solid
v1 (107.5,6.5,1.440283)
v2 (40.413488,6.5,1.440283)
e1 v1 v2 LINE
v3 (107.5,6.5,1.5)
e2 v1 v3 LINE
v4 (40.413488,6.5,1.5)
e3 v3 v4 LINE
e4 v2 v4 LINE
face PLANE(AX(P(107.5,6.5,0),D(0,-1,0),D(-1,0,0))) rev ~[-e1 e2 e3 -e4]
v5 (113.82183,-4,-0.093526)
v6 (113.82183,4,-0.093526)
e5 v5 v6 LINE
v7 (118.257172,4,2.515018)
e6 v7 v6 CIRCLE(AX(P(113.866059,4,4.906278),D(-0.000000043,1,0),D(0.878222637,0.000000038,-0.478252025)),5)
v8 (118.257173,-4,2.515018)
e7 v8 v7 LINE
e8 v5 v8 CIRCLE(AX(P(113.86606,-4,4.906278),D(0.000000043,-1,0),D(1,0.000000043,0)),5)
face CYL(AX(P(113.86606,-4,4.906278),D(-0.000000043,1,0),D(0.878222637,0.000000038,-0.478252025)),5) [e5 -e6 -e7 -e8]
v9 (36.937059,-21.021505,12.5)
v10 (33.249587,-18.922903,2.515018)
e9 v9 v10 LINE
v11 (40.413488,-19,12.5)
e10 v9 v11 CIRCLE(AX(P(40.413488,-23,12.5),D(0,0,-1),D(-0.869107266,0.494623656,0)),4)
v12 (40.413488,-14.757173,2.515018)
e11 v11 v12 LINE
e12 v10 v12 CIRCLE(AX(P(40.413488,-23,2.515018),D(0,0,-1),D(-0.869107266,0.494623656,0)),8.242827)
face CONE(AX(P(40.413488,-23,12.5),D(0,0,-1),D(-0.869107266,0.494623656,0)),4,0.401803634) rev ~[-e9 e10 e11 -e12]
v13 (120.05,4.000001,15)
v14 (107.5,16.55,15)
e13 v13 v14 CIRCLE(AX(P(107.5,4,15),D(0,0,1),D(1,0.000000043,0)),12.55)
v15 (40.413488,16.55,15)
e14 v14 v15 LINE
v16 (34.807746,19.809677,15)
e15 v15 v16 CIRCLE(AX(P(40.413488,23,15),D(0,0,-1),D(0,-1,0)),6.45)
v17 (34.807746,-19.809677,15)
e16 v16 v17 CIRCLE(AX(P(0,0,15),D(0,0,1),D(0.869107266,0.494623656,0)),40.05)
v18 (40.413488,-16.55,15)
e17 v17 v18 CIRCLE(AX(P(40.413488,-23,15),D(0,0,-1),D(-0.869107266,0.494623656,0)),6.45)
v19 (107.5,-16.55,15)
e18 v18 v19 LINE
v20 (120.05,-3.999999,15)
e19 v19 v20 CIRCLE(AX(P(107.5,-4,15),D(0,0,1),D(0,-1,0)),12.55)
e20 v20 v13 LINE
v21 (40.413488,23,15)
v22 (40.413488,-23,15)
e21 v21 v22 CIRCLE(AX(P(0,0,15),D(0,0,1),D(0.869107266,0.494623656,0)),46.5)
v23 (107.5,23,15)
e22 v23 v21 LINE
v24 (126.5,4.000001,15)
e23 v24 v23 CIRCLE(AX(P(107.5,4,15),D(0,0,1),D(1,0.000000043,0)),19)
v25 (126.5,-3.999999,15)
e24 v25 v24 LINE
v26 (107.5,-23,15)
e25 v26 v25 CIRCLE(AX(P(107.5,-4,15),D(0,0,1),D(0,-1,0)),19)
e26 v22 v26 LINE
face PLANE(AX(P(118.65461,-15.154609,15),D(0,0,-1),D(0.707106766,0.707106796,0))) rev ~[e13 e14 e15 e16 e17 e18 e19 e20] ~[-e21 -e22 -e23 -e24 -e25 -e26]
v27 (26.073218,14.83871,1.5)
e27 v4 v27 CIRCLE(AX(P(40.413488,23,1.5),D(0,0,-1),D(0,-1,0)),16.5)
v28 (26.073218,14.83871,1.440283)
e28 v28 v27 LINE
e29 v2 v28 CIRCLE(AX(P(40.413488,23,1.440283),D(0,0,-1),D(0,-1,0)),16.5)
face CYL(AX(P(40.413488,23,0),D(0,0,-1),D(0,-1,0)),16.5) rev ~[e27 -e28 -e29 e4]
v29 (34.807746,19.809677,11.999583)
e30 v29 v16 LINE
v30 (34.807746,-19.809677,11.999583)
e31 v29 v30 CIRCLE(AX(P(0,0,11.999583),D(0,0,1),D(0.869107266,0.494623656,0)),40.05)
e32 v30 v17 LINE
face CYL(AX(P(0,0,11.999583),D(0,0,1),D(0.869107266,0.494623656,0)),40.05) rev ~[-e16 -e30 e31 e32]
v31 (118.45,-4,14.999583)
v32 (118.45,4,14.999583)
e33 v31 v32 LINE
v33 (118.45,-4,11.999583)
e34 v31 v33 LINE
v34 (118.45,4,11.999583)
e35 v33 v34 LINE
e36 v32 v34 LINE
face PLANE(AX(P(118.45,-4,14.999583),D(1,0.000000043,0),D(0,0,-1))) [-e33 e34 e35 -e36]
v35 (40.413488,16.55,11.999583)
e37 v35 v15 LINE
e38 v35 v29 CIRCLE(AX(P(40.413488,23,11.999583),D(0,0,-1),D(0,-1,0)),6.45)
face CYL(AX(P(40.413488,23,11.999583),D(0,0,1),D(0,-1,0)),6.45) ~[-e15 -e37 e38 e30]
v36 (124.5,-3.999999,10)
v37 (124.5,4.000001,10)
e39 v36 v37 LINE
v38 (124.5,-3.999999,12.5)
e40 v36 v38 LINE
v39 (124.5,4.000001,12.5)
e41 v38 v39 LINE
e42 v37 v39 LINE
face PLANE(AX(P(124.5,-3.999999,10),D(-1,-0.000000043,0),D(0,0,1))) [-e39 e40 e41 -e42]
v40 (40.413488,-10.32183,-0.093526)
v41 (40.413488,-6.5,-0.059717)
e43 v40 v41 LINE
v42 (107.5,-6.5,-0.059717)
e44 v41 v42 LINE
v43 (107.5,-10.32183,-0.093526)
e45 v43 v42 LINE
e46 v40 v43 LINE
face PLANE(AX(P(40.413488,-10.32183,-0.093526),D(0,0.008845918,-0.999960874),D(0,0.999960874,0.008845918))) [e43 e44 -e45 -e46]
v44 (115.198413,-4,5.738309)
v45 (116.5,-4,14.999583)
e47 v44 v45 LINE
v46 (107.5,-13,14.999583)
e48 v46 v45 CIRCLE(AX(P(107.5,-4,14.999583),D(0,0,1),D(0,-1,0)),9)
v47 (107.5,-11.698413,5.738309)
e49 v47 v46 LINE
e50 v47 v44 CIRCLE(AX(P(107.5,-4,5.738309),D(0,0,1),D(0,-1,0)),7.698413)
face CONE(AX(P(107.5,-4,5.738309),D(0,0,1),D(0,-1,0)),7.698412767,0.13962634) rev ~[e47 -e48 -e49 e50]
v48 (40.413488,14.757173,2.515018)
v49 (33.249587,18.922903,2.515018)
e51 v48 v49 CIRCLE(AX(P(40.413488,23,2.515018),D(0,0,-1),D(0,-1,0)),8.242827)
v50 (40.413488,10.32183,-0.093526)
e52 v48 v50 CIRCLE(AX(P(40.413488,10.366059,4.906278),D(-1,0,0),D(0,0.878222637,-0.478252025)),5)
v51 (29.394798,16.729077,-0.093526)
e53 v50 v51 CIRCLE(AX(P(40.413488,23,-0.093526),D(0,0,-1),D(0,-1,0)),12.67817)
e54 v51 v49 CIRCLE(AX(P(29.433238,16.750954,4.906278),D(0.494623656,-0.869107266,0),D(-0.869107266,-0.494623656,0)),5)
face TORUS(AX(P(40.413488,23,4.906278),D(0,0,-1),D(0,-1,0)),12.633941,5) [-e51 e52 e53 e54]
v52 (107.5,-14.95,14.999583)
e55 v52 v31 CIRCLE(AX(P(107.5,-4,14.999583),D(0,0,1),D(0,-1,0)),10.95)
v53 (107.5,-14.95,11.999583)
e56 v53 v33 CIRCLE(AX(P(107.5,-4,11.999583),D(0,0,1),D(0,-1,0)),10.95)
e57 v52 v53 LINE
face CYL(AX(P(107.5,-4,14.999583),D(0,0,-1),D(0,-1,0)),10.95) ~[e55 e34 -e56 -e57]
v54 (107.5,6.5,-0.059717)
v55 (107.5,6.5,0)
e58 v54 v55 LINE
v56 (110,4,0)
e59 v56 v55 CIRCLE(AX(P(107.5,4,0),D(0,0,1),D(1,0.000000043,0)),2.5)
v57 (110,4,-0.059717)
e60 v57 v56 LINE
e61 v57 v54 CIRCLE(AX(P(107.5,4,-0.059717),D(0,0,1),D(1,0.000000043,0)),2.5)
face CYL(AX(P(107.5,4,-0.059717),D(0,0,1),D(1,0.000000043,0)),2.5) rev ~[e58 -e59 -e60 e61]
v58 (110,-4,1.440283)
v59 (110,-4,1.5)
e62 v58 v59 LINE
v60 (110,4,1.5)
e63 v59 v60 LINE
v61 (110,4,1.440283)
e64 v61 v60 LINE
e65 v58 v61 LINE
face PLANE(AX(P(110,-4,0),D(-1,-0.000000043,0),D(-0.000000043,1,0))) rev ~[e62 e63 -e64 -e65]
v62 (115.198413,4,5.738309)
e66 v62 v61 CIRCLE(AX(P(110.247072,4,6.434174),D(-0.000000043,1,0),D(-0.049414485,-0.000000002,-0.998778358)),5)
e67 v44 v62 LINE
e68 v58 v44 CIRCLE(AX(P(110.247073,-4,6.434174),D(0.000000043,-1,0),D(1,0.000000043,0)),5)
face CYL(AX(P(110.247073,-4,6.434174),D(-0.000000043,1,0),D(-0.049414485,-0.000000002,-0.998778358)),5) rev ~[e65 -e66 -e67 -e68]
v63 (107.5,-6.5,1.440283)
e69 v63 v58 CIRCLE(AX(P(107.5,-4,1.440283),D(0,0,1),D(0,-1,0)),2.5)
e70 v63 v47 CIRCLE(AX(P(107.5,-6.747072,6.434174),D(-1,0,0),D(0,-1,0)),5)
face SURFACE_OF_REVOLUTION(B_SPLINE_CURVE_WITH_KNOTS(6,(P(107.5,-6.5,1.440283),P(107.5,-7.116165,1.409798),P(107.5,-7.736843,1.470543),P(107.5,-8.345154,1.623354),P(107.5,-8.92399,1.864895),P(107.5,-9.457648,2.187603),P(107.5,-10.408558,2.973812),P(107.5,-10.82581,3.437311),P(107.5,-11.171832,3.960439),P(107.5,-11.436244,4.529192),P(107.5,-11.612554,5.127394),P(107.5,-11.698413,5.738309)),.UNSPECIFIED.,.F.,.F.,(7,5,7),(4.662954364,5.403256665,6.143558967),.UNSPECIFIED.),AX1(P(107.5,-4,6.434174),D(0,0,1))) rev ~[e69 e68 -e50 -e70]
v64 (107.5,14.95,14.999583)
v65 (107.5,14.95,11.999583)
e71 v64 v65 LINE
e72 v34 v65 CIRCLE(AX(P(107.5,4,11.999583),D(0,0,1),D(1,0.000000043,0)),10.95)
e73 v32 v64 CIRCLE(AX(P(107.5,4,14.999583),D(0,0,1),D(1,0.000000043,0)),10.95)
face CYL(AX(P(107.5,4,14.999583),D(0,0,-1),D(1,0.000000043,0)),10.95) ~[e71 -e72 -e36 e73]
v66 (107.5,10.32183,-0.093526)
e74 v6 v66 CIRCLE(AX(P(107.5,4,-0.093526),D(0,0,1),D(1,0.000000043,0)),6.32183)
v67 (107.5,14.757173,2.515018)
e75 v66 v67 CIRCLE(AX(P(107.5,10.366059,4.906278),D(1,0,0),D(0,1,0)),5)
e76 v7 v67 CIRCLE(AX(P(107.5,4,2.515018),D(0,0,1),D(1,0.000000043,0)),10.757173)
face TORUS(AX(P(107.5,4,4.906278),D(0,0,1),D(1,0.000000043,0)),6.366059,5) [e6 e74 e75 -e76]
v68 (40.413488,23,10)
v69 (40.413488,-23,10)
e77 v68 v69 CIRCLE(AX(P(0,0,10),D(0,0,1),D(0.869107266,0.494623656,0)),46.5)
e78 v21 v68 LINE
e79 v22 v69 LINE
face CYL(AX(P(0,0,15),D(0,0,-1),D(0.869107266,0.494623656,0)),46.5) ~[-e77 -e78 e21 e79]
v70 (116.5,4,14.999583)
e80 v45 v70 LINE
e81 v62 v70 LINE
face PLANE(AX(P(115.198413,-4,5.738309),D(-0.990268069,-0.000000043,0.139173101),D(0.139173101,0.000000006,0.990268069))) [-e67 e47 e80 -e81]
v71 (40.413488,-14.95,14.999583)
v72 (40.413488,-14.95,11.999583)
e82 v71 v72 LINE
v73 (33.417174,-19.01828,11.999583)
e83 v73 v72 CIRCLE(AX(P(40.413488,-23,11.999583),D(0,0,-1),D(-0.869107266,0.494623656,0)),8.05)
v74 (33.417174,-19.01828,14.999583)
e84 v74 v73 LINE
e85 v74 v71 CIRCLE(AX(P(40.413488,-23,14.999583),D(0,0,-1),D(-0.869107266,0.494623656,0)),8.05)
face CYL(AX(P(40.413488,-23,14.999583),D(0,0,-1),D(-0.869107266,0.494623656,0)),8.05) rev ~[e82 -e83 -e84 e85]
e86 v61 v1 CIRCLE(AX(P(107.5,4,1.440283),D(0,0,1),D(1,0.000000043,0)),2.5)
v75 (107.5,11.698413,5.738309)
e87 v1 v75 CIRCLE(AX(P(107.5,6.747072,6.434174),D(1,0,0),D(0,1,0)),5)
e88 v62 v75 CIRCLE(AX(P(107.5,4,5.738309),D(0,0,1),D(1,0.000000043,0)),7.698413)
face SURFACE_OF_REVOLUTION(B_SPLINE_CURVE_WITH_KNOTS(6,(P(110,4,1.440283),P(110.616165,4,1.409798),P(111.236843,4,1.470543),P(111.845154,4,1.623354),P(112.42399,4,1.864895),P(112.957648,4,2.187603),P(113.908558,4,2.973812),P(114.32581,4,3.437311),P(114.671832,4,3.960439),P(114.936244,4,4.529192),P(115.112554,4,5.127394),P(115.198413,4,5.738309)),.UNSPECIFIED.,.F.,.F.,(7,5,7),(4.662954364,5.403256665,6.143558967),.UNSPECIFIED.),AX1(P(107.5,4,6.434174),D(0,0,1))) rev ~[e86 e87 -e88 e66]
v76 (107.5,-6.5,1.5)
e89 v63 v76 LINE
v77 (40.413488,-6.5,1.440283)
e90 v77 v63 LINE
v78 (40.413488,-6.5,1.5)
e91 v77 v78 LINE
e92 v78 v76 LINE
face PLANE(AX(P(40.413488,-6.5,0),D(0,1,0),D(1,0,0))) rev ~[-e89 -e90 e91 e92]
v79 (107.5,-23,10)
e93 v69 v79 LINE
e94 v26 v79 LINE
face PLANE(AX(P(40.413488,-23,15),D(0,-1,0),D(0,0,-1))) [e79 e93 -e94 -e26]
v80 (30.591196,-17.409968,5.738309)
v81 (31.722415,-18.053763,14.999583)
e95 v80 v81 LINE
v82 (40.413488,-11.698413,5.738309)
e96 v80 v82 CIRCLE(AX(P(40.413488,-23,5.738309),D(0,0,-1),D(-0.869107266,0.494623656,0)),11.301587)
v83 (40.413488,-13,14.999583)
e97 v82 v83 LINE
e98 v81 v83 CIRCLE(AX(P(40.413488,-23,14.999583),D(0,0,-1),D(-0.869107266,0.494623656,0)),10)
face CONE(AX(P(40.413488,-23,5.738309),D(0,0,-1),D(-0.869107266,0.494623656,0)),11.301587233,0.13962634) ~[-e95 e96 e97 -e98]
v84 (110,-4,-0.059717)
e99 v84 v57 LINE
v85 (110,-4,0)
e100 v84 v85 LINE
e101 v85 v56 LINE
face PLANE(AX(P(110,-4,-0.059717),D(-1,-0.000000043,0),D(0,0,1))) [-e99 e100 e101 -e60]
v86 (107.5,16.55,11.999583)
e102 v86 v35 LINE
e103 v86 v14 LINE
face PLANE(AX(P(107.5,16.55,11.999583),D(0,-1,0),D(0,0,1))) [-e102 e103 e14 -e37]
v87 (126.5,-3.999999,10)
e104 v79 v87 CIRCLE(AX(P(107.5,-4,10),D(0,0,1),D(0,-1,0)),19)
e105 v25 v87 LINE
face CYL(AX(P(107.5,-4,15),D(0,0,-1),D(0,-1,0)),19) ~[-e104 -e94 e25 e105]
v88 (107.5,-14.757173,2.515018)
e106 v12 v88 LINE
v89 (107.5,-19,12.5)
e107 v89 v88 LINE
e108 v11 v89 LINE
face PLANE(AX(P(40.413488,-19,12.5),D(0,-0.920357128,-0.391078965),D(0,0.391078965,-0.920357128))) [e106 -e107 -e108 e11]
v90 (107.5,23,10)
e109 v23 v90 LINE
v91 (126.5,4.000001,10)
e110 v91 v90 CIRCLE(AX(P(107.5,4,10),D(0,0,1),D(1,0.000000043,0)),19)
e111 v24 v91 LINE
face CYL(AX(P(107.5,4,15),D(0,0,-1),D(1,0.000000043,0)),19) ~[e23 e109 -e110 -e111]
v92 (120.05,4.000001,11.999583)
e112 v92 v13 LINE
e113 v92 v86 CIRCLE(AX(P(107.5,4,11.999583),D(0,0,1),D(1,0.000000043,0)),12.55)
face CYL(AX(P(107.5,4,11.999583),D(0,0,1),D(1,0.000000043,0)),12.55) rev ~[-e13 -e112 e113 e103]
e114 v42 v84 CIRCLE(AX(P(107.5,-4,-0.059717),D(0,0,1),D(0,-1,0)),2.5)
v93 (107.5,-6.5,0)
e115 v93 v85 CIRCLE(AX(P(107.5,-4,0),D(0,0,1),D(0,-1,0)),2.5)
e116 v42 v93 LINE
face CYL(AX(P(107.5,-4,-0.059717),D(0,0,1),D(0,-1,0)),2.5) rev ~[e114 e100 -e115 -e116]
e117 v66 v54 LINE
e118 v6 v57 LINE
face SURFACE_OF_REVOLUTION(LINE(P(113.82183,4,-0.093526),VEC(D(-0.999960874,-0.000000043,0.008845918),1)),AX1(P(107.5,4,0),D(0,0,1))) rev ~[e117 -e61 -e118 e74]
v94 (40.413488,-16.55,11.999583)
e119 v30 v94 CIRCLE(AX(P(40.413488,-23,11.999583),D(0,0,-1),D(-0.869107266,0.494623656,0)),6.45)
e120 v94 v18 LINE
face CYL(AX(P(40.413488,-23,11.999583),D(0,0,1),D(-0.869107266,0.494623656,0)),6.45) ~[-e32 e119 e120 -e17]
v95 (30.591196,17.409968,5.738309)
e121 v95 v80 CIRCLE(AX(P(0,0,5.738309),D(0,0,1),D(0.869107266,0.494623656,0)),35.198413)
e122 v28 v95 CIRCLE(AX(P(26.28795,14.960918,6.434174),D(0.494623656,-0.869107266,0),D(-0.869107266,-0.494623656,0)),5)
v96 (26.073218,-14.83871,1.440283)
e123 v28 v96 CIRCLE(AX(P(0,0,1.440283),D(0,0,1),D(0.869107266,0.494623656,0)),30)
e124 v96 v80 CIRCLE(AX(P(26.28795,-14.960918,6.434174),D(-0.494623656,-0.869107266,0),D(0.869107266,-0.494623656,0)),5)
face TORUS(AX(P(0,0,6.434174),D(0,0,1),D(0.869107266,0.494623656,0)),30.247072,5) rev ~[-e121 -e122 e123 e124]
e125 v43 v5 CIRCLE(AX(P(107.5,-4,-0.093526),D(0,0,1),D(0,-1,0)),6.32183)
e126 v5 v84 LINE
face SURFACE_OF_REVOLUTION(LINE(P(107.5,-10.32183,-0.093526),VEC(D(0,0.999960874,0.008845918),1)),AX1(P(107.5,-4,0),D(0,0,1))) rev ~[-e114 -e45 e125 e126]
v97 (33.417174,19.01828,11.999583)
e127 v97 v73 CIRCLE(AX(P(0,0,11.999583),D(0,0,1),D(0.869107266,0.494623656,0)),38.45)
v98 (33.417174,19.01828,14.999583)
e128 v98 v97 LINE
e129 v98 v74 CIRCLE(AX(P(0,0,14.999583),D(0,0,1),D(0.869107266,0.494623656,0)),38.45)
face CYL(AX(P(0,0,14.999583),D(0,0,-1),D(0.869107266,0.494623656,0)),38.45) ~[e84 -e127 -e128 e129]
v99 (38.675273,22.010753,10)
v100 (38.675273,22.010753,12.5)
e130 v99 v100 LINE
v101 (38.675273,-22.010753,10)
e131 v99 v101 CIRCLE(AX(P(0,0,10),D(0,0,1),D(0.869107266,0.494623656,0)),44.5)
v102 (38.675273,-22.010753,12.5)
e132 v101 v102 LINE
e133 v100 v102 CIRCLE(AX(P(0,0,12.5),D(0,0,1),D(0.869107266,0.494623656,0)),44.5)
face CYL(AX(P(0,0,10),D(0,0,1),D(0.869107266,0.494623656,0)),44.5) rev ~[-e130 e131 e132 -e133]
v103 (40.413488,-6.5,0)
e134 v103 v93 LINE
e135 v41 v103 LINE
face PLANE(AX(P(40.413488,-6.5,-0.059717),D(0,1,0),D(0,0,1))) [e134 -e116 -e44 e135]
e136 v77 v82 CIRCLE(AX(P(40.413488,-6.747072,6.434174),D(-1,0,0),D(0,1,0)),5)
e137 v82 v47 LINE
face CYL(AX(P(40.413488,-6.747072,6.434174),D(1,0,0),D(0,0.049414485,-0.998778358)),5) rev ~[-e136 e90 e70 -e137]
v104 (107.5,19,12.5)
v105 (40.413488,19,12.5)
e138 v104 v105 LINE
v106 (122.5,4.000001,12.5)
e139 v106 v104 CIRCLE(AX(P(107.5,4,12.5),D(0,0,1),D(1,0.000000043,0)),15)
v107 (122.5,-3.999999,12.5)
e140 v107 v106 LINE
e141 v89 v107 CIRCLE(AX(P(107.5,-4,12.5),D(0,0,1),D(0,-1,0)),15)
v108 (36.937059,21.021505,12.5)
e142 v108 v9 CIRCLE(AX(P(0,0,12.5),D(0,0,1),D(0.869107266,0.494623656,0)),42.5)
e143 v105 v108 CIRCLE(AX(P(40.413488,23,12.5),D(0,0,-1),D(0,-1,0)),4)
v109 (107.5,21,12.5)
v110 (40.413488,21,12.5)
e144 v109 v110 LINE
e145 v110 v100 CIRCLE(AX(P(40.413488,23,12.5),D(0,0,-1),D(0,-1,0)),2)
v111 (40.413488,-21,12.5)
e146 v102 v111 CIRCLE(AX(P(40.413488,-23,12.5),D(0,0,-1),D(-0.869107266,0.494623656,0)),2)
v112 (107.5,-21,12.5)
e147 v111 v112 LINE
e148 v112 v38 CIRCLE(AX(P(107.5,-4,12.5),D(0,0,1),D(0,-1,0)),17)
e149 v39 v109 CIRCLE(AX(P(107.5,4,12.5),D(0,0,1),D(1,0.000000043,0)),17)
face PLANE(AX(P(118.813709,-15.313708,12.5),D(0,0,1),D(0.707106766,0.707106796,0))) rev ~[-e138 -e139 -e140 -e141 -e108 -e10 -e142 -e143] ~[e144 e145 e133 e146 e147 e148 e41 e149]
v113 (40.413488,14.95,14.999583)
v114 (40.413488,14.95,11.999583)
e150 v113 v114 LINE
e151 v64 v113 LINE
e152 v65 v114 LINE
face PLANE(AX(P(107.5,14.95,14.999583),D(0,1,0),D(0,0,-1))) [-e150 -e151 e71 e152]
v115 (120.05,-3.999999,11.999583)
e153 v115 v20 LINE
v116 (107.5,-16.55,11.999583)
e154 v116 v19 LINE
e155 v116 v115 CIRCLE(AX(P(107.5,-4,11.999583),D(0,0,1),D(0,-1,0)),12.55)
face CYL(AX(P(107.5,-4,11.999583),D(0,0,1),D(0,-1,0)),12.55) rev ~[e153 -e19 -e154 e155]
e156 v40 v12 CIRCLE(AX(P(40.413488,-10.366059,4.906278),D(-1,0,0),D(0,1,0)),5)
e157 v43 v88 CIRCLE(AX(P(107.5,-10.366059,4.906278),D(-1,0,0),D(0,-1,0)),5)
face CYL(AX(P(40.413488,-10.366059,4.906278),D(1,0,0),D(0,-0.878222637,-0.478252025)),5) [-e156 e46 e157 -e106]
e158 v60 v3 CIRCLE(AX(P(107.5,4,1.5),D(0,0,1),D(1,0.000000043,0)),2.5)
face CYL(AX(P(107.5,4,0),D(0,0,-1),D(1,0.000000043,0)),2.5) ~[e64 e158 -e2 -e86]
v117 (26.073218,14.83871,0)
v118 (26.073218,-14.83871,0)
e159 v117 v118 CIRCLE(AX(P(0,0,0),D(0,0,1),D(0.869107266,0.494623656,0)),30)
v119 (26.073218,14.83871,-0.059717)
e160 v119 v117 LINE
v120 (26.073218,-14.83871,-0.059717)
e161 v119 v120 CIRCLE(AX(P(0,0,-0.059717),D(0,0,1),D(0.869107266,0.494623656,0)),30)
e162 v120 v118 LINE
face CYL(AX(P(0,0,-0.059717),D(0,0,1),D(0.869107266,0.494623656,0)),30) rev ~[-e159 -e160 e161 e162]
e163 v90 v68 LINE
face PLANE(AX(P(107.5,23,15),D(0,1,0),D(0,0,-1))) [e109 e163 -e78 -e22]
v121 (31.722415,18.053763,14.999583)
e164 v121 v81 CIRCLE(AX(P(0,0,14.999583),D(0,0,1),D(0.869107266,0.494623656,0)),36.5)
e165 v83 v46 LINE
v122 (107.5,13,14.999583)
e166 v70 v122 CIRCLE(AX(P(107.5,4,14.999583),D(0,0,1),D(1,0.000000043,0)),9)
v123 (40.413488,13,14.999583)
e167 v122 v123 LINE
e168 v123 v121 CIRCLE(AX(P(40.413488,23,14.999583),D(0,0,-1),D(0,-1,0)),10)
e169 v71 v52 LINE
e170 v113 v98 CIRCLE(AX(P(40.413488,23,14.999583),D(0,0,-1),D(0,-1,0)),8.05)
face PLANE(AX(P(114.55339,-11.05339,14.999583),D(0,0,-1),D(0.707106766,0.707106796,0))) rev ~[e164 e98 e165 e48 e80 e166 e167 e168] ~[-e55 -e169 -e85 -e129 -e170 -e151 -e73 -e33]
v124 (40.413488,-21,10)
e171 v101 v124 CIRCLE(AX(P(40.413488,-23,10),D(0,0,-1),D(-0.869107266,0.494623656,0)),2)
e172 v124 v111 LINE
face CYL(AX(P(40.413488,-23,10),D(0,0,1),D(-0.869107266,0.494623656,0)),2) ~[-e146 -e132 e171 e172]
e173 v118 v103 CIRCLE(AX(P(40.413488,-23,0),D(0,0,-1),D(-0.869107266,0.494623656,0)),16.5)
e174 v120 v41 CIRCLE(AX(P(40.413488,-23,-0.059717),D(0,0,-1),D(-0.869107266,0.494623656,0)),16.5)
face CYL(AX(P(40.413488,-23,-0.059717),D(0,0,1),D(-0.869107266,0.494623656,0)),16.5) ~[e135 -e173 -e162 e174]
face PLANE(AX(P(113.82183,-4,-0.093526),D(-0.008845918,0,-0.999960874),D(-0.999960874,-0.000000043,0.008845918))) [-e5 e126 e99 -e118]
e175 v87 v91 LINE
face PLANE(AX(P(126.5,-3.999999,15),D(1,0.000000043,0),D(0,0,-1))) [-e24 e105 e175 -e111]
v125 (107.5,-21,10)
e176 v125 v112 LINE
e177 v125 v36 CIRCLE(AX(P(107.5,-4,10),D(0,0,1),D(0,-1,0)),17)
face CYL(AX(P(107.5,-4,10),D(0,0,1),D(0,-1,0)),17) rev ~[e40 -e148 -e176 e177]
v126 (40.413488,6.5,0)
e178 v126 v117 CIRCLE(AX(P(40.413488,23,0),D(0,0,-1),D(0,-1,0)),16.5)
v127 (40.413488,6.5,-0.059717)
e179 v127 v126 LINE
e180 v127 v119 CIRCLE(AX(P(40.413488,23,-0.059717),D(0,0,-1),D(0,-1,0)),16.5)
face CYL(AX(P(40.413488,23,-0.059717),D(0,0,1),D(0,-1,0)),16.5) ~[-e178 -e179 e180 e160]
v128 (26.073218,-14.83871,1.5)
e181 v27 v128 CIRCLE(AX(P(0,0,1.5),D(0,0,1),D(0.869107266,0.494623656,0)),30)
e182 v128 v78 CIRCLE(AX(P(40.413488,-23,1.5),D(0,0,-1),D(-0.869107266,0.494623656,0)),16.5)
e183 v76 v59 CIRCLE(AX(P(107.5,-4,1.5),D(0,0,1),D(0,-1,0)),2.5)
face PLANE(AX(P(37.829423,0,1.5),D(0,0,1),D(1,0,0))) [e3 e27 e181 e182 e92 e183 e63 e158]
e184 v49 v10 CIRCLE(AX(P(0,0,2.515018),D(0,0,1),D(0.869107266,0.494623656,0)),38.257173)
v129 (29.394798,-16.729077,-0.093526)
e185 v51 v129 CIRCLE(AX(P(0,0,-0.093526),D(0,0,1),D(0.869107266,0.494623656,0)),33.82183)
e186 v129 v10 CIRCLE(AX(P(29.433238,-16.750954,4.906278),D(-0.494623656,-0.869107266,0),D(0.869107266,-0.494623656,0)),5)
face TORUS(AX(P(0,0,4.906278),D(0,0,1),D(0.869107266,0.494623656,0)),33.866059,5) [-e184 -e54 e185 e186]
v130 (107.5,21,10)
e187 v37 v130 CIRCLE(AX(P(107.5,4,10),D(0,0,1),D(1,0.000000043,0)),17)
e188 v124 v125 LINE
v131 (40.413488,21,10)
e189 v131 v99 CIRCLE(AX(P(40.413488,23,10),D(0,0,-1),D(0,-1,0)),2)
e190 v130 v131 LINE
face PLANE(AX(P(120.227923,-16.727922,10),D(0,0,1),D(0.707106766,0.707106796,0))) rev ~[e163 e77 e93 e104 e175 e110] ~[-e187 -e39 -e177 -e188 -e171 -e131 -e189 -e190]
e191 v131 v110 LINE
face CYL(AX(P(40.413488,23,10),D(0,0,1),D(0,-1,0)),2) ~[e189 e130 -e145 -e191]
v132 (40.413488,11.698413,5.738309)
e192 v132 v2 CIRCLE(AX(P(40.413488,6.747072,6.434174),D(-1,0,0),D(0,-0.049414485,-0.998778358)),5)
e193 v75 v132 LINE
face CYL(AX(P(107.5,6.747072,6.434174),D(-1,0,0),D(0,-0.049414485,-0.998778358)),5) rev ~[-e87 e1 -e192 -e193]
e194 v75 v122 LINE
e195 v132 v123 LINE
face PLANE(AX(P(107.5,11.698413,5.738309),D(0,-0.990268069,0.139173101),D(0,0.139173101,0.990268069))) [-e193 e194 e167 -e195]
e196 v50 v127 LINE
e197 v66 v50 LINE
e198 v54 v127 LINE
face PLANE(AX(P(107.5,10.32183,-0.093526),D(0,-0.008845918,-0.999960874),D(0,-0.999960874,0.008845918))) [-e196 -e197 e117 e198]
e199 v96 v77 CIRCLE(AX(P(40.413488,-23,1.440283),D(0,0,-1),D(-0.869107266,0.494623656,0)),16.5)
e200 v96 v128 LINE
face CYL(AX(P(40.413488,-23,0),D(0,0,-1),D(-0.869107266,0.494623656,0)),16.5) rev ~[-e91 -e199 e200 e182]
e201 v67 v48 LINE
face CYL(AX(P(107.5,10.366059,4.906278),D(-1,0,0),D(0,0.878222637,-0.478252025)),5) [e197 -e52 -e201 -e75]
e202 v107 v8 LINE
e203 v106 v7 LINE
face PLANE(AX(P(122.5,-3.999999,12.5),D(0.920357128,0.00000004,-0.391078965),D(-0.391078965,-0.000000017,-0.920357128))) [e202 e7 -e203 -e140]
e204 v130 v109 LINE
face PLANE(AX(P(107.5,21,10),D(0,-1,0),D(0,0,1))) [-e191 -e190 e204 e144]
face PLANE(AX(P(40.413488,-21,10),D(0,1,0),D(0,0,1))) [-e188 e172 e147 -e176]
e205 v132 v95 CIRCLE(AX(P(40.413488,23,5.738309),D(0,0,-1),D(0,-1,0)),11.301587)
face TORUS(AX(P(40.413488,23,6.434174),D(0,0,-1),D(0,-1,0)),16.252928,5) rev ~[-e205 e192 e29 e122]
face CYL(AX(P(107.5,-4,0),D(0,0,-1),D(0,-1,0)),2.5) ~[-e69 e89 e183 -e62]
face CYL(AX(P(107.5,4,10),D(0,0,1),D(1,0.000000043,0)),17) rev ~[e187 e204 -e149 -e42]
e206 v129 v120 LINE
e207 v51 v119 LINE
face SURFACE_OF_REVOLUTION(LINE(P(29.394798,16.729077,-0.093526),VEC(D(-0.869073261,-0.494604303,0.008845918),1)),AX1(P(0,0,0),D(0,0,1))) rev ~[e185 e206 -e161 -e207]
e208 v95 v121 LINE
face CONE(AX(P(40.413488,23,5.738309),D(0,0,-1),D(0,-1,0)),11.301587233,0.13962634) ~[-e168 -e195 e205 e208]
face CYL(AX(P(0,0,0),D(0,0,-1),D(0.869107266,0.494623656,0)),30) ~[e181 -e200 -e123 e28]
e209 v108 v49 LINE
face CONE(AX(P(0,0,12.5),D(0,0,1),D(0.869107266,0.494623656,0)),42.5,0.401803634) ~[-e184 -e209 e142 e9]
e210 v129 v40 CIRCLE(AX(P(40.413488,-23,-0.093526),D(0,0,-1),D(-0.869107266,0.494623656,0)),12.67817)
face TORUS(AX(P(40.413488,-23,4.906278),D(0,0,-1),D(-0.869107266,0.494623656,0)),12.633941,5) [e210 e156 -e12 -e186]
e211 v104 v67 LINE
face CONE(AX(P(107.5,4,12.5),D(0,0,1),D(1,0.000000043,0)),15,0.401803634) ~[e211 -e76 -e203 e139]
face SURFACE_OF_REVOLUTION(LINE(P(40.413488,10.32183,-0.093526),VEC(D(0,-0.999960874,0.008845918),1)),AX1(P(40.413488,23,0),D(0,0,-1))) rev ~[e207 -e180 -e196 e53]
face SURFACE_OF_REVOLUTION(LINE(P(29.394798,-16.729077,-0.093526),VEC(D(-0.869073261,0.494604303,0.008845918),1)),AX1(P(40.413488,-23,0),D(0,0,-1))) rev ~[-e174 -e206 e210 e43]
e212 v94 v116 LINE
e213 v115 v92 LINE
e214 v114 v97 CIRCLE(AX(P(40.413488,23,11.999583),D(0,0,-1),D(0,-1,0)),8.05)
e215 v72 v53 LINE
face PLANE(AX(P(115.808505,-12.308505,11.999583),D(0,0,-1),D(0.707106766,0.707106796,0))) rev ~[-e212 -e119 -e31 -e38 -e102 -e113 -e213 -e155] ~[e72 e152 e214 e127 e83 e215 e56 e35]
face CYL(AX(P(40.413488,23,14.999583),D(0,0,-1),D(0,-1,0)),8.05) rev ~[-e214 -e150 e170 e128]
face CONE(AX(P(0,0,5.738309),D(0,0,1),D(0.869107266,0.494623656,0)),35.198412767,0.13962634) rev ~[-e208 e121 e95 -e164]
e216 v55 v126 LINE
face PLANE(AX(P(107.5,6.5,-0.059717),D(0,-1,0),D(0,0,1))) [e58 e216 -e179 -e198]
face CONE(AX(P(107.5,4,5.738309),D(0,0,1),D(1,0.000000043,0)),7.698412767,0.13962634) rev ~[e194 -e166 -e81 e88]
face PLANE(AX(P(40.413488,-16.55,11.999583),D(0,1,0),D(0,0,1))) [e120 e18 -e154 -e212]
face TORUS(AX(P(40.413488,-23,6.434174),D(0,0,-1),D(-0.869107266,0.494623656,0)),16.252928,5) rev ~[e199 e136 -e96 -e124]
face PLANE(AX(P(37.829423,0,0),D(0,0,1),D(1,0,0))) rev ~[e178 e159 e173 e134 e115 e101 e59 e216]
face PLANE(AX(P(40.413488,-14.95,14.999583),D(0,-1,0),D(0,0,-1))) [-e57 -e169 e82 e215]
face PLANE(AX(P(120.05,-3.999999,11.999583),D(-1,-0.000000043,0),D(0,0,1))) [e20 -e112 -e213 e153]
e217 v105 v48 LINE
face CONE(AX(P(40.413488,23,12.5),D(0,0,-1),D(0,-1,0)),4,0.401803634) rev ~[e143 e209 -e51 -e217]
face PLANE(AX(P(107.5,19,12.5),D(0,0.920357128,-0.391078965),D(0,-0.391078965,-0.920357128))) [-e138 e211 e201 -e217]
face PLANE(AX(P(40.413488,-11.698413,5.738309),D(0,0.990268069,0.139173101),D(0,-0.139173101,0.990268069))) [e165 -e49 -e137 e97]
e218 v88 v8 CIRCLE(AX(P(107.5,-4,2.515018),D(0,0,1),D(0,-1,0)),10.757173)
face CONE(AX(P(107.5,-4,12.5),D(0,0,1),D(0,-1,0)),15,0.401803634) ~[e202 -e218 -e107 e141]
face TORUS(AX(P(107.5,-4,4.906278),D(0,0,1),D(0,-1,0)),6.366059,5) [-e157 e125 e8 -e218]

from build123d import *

# Parameters (mm, degrees)
F3_DEPTH = 1.5


with BuildPart() as f2:
    # F2: sweep along a path in F1
    with BuildLine(Plane.XY) as f2_path:
        ThreePointArc((107.5000001721, -6.5), (109.267767163, -5.7677669149), (110.0000001721, -3.9999998925))
        Line((110.0000001721, -3.9999998925), (109.9999998279, 4.0000001075))
        ThreePointArc((109.9999998279, 4.0000001075), (109.2677667429, 5.767766991), (107.4999998279, 6.5))
        Line((107.4999998279, 6.5), (40.4134878475, 6.5))
        ThreePointArc((40.4134878475, 6.5), (32.1192516055, 8.7362121033), (26.0732179661, 14.8387096774))
        ThreePointArc((26.0732179661, 14.8387096774), (-30, 0), (26.0732179661, -14.8387096774))
        ThreePointArc((26.0732179661, -14.8387096774), (32.1192516055, -8.7362121033), (40.4134878475, -6.5))
        Line((40.4134878475, -6.5), (107.5000001721, -6.5))
    # F0 (on Front) → F2 (sweep)
    with BuildSketch(Plane.XZ):
        with BuildLine():
            Line((-33.8218298437, -0.093526227), (-30, -0.0597173114))
            Line((-30, -0.0597173114), (-30, 1.4402826886))
            ThreePointArc((-30, 1.4402826886), (-33.4331031287, 2.5807074242), (-35.1984127671, 5.7383089745))
            Line((-35.1984127671, 5.7383089745), (-36.5, 14.9995833623))
            Line((-36.5, 14.9995833623), (-38.45, 14.9995833623))
            Line((-38.45, 14.9995833623), (-38.45, 11.9995833623))
            Line((-38.45, 11.9995833623), (-40.05, 11.9995833623))
            Line((-40.05, 11.9995833623), (-40.05, 15))
            Line((-40.05, 15), (-46.5, 15))
            Line((-46.5, 15), (-46.5, 10))
            Line((-46.5, 10), (-44.5, 10))
            Line((-44.5, 10), (-44.5, 12.5))
            Line((-44.5, 12.5), (-42.5, 12.5))
            Line((-42.5, 12.5), (-38.2571726182, 2.515018017))
            ThreePointArc((-38.2571726182, 2.515018017), (-36.400812876, 0.5964028574), (-33.8218298437, -0.093526227))
        make_face()
    sweep(path=f2_path.line)

    # F1 (on Top) → F3 (join)
    with BuildSketch(Plane.XY):
        with BuildLine():
            Line((40.4134878475, -6.5), (107.5000001721, -6.5))
            ThreePointArc((107.5000001721, -6.5), (109.267767163, -5.7677669149), (110.0000001721, -3.9999998925))
            Line((110.0000001721, -3.9999998925), (109.9999998279, 4.0000001075))
            ThreePointArc((109.9999998279, 4.0000001075), (109.2677667429, 5.767766991), (107.4999998279, 6.5))
            Line((107.4999998279, 6.5), (40.4134878475, 6.5))
            ThreePointArc((40.4134878475, 6.5), (32.1192516055, 8.7362121033), (26.0732179661, 14.8387096774))
            ThreePointArc((26.0732179661, 14.8387096774), (-30, 0), (26.0732179661, -14.8387096774))
            ThreePointArc((26.0732179661, -14.8387096774), (32.1192516055, -8.7362121033), (40.4134878475, -6.5))
        make_face()
    extrude(amount=F3_DEPTH)


solid = f2.part
